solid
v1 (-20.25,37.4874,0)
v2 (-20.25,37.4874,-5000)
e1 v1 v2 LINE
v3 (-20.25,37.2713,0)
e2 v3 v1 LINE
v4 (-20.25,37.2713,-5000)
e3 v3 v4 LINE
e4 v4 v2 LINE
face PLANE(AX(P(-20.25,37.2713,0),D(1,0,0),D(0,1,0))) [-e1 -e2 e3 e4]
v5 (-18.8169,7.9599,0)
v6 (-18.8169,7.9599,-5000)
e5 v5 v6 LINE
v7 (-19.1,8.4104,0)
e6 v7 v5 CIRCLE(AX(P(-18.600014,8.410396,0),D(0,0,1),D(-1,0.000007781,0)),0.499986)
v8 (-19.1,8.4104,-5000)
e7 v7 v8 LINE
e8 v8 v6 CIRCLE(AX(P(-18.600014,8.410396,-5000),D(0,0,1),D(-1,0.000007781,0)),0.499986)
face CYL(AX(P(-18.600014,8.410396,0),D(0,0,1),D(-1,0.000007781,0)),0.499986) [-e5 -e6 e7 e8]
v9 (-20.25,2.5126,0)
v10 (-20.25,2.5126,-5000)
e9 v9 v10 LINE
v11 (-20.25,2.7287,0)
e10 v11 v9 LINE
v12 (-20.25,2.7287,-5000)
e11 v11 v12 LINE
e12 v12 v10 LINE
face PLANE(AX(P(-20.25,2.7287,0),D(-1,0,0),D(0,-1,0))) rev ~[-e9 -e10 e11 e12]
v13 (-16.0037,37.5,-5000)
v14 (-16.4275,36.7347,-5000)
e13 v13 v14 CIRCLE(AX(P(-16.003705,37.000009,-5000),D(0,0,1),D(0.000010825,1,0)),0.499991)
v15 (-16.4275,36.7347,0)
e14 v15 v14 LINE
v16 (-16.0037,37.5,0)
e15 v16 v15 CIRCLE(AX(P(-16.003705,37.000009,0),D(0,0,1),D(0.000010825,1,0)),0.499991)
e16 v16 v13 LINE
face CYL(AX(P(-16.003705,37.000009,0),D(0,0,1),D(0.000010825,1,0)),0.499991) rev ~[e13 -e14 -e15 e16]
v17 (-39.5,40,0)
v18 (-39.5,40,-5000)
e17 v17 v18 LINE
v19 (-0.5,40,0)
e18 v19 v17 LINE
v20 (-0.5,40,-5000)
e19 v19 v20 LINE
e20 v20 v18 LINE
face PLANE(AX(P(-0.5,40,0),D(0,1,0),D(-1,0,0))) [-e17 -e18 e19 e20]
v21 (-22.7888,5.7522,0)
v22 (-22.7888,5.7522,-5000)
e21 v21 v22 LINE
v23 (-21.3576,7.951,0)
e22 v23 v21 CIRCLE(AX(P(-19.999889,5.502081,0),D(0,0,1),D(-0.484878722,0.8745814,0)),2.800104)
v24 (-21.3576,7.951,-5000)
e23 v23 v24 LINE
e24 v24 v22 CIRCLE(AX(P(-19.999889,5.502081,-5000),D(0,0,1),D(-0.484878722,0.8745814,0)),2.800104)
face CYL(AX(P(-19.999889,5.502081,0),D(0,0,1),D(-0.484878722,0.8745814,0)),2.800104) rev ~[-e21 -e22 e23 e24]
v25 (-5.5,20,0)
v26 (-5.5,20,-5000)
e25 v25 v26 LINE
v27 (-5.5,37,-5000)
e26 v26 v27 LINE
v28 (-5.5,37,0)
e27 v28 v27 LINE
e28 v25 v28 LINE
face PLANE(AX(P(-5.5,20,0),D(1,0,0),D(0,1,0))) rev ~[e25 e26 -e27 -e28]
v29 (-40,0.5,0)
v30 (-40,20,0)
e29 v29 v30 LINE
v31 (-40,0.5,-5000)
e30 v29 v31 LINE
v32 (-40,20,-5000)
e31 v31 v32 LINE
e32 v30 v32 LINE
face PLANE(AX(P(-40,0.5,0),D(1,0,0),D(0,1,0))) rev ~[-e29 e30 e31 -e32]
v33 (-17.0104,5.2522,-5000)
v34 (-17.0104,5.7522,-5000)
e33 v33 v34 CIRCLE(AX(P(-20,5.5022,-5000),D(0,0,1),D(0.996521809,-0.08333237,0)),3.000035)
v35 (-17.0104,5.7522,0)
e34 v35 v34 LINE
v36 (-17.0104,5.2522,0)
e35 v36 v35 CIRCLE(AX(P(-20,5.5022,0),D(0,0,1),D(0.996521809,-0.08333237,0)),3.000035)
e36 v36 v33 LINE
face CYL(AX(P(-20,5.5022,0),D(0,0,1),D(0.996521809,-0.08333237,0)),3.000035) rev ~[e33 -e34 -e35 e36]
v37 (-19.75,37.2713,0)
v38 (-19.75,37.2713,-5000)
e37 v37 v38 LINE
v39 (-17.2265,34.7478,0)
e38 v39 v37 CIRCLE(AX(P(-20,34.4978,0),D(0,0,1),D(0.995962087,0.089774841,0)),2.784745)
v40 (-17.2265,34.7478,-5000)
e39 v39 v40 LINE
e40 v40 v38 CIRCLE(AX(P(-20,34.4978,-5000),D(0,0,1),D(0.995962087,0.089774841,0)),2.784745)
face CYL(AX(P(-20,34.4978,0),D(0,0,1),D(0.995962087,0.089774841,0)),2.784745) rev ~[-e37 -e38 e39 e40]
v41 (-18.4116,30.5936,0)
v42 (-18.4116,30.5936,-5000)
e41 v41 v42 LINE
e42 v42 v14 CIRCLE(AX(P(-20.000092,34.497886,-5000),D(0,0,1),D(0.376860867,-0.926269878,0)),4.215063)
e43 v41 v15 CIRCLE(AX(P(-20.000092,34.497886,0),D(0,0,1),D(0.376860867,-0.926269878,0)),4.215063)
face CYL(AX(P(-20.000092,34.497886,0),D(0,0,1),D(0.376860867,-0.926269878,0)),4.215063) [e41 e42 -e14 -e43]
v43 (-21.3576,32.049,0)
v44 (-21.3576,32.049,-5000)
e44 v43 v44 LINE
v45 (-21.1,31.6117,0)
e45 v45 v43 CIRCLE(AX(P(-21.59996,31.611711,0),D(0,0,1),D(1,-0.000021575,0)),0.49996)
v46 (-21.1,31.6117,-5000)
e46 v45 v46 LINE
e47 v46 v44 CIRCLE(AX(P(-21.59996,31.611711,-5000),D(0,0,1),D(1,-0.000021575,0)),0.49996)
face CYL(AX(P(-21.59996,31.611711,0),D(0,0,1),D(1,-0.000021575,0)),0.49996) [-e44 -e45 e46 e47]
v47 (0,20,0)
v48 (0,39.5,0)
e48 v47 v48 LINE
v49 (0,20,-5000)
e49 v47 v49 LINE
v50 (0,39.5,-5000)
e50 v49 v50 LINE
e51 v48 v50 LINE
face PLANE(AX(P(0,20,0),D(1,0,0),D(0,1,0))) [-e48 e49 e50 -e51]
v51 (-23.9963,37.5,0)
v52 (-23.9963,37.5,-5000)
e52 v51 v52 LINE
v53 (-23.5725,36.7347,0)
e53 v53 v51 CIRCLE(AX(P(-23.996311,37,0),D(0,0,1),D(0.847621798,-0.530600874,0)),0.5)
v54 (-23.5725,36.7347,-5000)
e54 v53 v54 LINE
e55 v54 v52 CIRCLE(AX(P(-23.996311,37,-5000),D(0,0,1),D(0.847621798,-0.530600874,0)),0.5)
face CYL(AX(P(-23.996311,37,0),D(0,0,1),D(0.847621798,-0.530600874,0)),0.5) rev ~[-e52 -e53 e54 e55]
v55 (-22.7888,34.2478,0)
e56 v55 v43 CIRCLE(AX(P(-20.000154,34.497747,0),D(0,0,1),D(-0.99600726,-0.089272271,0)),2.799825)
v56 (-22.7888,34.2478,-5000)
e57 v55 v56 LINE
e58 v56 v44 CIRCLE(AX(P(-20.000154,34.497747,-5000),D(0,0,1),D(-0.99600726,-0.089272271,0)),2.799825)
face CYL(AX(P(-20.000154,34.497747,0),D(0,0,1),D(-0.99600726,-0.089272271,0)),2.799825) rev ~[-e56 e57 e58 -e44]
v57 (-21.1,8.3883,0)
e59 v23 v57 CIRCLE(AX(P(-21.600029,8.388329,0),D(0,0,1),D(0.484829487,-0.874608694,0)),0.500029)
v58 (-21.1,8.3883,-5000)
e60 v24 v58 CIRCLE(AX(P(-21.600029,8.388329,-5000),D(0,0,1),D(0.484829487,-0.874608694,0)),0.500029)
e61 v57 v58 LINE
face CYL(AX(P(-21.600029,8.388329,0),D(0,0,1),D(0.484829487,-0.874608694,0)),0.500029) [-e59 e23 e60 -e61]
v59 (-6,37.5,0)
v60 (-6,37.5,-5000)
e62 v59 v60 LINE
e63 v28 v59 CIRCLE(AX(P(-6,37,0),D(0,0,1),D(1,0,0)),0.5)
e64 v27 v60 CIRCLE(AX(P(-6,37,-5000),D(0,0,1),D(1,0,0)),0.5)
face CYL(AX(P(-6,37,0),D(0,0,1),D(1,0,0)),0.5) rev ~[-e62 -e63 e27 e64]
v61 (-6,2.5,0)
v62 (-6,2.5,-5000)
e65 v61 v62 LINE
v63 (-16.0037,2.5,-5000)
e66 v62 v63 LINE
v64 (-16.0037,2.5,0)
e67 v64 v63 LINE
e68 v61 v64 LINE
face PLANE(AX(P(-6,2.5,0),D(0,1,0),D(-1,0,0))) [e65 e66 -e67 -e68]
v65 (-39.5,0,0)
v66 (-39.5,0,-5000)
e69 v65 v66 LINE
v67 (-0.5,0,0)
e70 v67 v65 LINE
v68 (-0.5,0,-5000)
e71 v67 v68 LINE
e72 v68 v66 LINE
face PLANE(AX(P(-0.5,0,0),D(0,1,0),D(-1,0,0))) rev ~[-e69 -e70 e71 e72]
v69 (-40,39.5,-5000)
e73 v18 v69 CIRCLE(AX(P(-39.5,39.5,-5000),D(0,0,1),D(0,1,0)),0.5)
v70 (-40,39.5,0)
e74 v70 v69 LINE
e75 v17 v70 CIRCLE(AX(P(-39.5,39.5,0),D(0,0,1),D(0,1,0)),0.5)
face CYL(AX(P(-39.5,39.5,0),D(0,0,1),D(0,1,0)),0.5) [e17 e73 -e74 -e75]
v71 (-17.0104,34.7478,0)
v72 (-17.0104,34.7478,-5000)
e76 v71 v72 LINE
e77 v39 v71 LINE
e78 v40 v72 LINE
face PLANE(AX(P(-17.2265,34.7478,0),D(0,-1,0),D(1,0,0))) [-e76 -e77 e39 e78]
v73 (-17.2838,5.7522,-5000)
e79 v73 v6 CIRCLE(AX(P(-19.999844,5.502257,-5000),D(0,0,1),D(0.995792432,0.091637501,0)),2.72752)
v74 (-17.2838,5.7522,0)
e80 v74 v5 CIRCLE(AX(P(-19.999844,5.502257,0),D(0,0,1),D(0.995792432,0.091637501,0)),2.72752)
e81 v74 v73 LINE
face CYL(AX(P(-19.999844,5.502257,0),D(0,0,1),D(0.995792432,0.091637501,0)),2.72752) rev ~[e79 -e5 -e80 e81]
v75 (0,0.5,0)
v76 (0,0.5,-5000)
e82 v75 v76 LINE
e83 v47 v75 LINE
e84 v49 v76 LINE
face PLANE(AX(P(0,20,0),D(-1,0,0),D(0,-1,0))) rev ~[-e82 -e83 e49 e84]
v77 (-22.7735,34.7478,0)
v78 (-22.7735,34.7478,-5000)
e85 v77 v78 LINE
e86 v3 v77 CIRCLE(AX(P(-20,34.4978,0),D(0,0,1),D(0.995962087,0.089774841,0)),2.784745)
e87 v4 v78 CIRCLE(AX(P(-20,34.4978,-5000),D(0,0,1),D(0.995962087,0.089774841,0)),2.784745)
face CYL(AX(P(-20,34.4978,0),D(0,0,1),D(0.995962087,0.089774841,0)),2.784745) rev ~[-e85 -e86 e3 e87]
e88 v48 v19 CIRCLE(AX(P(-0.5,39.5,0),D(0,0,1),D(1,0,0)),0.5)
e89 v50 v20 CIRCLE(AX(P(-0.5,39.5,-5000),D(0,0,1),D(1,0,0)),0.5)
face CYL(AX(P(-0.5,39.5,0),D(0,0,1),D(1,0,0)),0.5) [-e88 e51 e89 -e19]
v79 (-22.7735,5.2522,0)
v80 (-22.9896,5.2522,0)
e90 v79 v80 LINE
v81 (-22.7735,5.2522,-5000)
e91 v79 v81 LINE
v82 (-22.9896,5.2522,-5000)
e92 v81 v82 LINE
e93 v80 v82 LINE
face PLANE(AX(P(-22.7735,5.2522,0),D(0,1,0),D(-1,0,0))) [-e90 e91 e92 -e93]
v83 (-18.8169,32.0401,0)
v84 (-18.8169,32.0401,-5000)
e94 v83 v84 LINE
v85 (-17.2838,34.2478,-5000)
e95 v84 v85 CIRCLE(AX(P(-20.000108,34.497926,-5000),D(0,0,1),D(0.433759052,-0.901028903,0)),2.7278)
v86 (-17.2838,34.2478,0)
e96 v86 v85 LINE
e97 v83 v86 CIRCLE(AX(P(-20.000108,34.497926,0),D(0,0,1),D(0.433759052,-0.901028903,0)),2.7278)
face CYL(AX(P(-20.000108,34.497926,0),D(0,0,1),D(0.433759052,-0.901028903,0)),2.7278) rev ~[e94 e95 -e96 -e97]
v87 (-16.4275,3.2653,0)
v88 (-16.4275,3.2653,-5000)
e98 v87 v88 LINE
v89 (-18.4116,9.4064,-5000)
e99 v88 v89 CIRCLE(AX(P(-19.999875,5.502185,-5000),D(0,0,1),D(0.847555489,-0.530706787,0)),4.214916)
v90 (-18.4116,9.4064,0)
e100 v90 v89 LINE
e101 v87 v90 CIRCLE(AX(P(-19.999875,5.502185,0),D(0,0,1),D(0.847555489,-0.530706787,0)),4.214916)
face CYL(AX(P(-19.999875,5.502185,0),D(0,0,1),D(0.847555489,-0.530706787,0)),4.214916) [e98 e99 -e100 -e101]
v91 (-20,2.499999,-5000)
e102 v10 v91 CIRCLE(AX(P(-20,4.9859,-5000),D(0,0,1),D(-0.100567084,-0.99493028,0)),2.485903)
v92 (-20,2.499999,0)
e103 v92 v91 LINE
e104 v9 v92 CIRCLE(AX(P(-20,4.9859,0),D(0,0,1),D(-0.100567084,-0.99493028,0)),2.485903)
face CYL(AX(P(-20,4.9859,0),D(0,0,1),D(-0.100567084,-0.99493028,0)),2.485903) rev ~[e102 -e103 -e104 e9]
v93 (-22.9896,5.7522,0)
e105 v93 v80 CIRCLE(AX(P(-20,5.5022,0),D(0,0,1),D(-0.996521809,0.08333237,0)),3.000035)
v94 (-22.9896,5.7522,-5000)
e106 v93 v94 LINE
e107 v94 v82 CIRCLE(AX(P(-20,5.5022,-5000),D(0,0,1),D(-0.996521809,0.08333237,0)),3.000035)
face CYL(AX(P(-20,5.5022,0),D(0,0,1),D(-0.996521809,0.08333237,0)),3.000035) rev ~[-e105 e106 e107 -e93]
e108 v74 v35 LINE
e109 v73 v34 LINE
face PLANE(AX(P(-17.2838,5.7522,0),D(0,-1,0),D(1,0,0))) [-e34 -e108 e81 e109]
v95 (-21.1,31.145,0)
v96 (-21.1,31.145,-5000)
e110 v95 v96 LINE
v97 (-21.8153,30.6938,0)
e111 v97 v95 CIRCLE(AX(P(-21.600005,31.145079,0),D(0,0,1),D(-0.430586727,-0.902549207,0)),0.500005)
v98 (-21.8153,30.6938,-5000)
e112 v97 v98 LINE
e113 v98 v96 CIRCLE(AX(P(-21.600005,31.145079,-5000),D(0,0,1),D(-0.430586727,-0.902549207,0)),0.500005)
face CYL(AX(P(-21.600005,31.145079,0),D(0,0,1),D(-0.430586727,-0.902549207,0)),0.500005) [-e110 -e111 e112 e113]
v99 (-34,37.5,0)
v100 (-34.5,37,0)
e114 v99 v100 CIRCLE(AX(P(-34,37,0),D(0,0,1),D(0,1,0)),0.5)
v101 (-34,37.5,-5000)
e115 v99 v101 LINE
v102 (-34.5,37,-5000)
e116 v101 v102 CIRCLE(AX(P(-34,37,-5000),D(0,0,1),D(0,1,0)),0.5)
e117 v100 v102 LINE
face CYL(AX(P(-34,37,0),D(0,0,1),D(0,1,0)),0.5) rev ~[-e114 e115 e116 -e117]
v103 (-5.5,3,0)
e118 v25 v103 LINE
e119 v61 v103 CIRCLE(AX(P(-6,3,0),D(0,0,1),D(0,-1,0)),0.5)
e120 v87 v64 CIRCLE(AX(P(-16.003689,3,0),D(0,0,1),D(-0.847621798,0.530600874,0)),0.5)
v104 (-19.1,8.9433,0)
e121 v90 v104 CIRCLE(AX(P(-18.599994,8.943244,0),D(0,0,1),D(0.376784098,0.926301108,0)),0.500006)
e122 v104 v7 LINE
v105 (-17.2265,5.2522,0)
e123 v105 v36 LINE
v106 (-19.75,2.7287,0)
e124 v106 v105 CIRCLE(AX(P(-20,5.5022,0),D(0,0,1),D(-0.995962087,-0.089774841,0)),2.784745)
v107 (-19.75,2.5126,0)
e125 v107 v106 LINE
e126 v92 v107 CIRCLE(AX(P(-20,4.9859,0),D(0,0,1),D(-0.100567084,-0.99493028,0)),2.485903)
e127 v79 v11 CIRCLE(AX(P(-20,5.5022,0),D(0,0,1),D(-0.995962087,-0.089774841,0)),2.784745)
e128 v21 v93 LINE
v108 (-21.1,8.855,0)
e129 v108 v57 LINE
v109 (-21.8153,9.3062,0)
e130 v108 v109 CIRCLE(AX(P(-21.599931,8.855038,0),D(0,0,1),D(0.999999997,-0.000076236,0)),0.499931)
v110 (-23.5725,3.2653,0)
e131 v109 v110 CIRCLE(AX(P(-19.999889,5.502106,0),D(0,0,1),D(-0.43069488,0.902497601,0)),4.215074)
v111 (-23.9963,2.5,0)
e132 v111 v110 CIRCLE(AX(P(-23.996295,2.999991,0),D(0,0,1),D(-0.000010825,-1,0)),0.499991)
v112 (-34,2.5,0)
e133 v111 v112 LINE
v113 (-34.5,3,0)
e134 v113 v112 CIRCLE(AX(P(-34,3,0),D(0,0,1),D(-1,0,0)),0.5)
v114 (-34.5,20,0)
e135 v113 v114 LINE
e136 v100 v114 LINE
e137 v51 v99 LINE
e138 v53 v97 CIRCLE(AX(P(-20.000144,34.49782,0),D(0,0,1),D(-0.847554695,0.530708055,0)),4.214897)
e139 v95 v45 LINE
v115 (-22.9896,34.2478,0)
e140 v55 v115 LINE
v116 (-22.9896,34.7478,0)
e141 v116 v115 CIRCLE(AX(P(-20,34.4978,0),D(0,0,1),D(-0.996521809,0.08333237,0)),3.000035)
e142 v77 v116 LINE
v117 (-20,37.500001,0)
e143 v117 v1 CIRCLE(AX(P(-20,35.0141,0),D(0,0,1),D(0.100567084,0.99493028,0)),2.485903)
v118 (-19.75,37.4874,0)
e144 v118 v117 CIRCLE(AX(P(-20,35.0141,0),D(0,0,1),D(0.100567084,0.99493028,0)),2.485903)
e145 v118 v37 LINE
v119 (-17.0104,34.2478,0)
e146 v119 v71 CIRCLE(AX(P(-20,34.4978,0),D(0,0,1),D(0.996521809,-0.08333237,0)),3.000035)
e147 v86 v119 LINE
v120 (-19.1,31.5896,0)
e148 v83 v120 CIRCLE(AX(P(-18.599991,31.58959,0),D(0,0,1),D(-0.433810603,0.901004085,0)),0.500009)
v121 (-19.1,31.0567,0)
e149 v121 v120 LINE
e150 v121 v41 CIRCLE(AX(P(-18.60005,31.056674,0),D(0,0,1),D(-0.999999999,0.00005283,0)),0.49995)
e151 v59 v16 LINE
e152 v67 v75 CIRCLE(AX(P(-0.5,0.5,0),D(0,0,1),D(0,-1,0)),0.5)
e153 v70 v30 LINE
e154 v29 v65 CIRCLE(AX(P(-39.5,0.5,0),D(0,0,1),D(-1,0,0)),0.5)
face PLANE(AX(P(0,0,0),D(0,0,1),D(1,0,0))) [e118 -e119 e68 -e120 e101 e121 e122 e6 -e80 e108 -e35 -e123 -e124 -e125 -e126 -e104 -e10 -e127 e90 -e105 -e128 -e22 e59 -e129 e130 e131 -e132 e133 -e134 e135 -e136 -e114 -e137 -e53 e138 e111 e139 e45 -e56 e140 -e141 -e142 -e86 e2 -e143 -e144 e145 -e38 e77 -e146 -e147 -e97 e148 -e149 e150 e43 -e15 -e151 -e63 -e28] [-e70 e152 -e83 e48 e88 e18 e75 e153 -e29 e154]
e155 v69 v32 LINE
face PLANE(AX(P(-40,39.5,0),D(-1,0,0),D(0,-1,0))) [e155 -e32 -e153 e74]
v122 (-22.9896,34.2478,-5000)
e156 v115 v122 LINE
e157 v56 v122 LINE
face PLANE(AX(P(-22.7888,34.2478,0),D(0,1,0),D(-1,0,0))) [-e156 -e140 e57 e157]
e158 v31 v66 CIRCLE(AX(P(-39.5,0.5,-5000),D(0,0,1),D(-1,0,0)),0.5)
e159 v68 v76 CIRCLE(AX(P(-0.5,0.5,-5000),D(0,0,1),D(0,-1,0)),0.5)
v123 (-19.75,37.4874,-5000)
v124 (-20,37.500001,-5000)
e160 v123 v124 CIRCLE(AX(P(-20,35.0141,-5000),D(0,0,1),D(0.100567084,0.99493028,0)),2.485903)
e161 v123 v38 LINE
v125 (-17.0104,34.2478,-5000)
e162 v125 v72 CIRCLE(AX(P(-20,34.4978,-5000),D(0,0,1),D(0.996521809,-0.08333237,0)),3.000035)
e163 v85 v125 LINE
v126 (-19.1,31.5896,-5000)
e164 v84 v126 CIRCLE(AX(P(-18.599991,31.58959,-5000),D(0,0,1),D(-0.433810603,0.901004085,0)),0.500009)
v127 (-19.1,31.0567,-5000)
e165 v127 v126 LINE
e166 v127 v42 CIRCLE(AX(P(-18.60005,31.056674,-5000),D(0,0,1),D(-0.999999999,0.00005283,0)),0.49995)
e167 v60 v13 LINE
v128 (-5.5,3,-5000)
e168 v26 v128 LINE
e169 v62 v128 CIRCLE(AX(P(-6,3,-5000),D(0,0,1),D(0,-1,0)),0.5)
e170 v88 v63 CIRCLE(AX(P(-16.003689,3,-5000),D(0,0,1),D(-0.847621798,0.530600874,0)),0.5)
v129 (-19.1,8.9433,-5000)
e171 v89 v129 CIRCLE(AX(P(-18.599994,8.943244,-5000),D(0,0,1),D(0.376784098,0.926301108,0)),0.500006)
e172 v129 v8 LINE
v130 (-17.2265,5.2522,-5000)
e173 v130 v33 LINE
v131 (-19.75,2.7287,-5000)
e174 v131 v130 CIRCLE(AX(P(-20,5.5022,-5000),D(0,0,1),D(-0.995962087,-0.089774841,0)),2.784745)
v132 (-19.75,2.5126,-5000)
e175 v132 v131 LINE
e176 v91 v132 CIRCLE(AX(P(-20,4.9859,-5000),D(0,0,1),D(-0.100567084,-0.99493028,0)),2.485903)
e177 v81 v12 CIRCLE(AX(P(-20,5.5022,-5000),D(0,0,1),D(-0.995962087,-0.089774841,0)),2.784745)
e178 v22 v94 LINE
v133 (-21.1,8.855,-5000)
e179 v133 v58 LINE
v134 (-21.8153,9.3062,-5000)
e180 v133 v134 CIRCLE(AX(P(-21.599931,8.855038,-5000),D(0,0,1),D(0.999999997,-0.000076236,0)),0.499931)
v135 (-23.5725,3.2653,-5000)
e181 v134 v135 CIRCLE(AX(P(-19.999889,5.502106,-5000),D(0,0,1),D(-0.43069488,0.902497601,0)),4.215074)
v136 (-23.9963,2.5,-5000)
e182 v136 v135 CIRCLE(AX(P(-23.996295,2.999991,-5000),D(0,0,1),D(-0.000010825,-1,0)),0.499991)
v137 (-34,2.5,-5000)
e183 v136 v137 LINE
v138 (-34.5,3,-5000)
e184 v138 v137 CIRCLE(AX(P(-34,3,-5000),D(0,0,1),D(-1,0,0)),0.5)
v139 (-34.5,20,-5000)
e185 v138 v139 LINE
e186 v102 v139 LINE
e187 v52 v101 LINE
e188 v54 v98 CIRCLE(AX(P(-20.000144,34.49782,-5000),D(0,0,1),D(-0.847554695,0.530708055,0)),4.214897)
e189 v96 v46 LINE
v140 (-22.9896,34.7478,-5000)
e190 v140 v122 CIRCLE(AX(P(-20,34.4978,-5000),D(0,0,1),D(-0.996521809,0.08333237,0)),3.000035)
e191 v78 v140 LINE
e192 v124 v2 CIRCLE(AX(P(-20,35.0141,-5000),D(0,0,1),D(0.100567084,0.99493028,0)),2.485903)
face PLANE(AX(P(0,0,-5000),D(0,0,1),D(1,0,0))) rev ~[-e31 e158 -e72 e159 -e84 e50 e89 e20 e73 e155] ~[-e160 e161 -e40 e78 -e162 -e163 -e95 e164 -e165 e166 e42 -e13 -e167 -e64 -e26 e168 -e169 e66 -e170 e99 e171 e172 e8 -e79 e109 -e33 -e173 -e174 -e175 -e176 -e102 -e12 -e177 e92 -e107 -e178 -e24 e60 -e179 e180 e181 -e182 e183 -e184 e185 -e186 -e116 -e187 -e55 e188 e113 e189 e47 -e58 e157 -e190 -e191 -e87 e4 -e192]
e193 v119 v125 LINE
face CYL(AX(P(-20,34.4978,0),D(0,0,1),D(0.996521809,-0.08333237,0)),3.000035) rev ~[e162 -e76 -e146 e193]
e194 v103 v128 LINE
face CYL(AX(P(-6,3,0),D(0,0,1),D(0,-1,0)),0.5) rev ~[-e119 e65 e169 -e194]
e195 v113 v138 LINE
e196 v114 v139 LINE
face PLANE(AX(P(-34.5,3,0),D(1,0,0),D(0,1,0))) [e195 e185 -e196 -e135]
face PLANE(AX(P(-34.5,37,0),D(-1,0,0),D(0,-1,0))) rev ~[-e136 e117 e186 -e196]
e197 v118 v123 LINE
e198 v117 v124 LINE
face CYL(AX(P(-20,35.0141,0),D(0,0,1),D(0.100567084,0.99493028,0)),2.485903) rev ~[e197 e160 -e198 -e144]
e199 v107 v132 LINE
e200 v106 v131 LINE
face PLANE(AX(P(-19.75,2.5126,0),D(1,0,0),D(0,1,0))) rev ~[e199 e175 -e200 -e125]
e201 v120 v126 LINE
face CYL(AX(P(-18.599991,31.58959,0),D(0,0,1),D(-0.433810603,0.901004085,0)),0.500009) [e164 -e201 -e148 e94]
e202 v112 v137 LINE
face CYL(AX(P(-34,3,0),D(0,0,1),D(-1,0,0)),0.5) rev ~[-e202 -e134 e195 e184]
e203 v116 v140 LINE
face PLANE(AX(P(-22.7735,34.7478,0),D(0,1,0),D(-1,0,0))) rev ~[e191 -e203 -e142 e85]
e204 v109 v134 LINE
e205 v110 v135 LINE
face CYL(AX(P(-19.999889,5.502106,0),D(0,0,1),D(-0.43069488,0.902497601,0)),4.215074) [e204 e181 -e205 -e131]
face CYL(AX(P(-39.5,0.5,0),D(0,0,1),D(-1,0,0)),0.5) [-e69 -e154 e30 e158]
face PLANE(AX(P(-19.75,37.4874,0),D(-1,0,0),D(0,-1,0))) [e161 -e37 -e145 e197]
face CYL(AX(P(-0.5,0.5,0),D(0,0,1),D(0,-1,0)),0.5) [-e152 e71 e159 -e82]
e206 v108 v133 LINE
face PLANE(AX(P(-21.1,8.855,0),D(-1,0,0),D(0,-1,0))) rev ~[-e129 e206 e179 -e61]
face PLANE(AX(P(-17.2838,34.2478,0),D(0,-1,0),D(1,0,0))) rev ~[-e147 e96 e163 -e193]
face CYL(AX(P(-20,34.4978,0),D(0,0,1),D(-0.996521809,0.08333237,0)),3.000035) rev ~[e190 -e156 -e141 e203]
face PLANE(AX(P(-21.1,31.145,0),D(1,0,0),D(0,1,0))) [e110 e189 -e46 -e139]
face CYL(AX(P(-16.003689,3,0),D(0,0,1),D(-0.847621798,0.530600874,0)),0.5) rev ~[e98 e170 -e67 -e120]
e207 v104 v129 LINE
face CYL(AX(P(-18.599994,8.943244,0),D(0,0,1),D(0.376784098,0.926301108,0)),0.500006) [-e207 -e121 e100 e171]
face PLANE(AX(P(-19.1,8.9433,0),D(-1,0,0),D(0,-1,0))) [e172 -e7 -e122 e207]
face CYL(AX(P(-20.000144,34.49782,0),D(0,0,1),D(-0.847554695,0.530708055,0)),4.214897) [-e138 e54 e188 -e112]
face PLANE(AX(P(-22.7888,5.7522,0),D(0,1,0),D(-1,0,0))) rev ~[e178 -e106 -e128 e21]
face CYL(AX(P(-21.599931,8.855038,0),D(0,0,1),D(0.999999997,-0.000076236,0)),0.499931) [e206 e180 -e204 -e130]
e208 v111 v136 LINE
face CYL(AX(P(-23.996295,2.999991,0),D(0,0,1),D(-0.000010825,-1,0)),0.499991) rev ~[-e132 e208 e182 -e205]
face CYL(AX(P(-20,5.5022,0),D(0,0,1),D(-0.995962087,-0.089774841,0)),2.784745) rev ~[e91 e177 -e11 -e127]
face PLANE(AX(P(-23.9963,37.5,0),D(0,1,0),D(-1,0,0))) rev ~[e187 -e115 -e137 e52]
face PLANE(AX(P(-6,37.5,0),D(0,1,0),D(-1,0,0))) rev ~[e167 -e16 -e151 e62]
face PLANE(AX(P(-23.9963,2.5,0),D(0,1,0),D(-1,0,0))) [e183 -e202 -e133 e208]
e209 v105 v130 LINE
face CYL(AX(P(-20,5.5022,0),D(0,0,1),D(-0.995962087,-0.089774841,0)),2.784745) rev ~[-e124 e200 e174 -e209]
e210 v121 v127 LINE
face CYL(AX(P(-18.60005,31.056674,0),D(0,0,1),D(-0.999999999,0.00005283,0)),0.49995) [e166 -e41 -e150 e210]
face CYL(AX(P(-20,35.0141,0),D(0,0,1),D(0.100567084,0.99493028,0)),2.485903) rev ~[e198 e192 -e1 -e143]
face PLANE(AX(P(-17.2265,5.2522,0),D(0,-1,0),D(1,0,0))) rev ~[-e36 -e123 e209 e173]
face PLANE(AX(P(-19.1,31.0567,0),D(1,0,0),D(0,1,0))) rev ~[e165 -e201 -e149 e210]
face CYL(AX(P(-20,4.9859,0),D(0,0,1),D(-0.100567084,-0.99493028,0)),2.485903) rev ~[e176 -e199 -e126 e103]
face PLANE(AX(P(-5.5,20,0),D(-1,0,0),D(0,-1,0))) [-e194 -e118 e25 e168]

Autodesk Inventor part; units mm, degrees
ref_plane "YZ Plane" through (0, 0, 0) normal (1, 0, 0) x (0, 1, 0)
ref_plane "XZ Plane" through (0, 0, 0) normal (0, 1, 0) x (-1, 0, 0)
ref_plane "XY Plane" through (0, 0, 0) normal (0, 0, 1) x (1, 0, 0)
sketch "Sketch1" plane through (0, 0, 0) normal (0, 0, 1) x (1, 0, 0)
  line L0 (0, 20) -> (0, 0.5)
  line L1 (-0.5, 0) -> (-39.5, 0)
  line L2 (-40, 0.5) -> (-40, 20)
  line L3 (-5.5, 20) -> (-5.5, 3)
  line L4 (-34.5, 3) -> (-34.5, 20)
  line L5 (3.5733, 20) -> (-48.8643, 20) construction
  line L6 (-19.1, 8.9433) -> (-19.1, 8.4104)
  line L7 (-21.1, 8.855) -> (-21.1, 8.3883)
  circle A0 centre (-20, 5.5022) radius 3 construction
  line L8 (-23.3299, 5.7522) -> (-16.6139, 5.7522) construction
  line L9 (-16.6139, 5.7522) -> (-16.6139, 5.2522) construction
  line L10 (-16.6139, 5.2522) -> (-23.3299, 5.2522) construction
  line L11 (-23.3299, 5.2522) -> (-23.3299, 5.7522) construction
  line L12 (-22.7888, 5.7522) -> (-22.9896, 5.7522)
  line L13 (-22.7735, 5.2522) -> (-22.9896, 5.2522)
  arc A1 (-22.9896, 5.7522) -> (-22.9896, 5.2522) centre (-20, 5.5022) ccw
  line L14 (-17.2838, 5.7522) -> (-17.0104, 5.7522)
  line L15 (-17.2265, 5.2522) -> (-17.0104, 5.2522)
  arc A2 (-17.0104, 5.2522) -> (-17.0104, 5.7522) centre (-20, 5.5022) ccw
  arc A3 (-17.2838, 5.7522) -> (-18.8169, 7.9599) centre (-20, 5.5022) ccw
  arc A4 (-21.3576, 7.951) -> (-22.7888, 5.7522) centre (-20, 5.5022) ccw
  arc A5 (-22.7735, 5.2522) -> (-17.2265, 5.2522) centre (-20, 5.5022) ccw
  line L16 (-20.25, 6.2494) -> (-19.75, 6.2494) construction
  line L17 (-19.75, 6.2494) -> (-19.75, 2.1596) construction
  line L18 (-19.75, 2.1596) -> (-20.25, 2.1596) construction
  line L19 (-20.25, 2.1596) -> (-20.25, 6.2494) construction
  line L20 (-20.25, 2.7287) -> (-20.25, 2.5126)
  line L21 (-19.75, 2.5126) -> (-19.75, 2.7287)
  arc A6 (-20.25, 2.5126) -> (-19.75, 2.5126) centre (-20, 4.9859) ccw
  arc A7 (-21.8153, 9.3062) -> (-23.5725, 3.2653) centre (-20, 5.5022) ccw
  arc A8 (-16.4275, 3.2653) -> (-18.4116, 9.4064) centre (-20, 5.5022) ccw
  line L22 (-6, 2.5) -> (-16.0037, 2.5)
  line L23 (-19.75, 2.5) -> (-20.25, 2.5)
  line L24 (-23.9963, 2.5) -> (-34, 2.5)
  circle A9 centre (-20, 5.5022) radius 4.215 construction
  arc A10 (-34.5, 3) -> (-34, 2.5) centre (-34, 3) ccw
  arc A11 (-40, 0.5) -> (-39.5, 0) centre (-39.5, 0.5) ccw
  arc A12 (-23.9963, 2.5) -> (-23.5725, 3.2653) centre (-23.9963, 3) ccw
  arc A13 (-21.1, 8.855) -> (-21.8153, 9.3062) centre (-21.6, 8.855) ccw
  arc A14 (-21.3576, 7.951) -> (-21.1, 8.3883) centre (-21.6, 8.3883) ccw
  arc A15 (-19.1, 8.4104) -> (-18.8169, 7.9599) centre (-18.6, 8.4104) ccw
  arc A16 (-18.4116, 9.4064) -> (-19.1, 8.9433) centre (-18.6, 8.9433) ccw
  arc A17 (-16.4275, 3.2653) -> (-16.0037, 2.5) centre (-16.0037, 3) ccw
  arc A18 (-6, 2.5) -> (-5.5, 3) centre (-6, 3) ccw
  arc A19 (-0.5, 0) -> (0, 0.5) centre (-0.5, 0.5) ccw
  line L25 (0, 20) -> (0, 39.5)
  line L26 (-0.5, 40) -> (-39.5, 40)
  line L27 (-40, 39.5) -> (-40, 20)
  line L28 (-5.5, 20) -> (-5.5, 37)
  line L29 (-34.5, 37) -> (-34.5, 20)
  line L30 (-19.1, 31.0567) -> (-19.1, 31.5896)
  line L31 (-21.1, 31.145) -> (-21.1, 31.6117)
  circle A20 centre (-20, 34.4978) radius 3 construction
  line L32 (-23.3299, 34.2478) -> (-16.6139, 34.2478) construction
  line L33 (-16.6139, 34.2478) -> (-16.6139, 34.7478) construction
  line L34 (-16.6139, 34.7478) -> (-23.3299, 34.7478) construction
  line L35 (-23.3299, 34.7478) -> (-23.3299, 34.2478) construction
  line L36 (-22.7888, 34.2478) -> (-22.9896, 34.2478)
  line L37 (-22.7735, 34.7478) -> (-22.9896, 34.7478)
  arc A21 (-22.9896, 34.7478) -> (-22.9896, 34.2478) centre (-20, 34.4978) ccw
  line L38 (-17.2838, 34.2478) -> (-17.0104, 34.2478)
  line L39 (-17.2265, 34.7478) -> (-17.0104, 34.7478)
  arc A22 (-17.0104, 34.2478) -> (-17.0104, 34.7478) centre (-20, 34.4978) ccw
  arc A23 (-18.8169, 32.0401) -> (-17.2838, 34.2478) centre (-20, 34.4978) ccw
  arc A24 (-22.7888, 34.2478) -> (-21.3576, 32.049) centre (-20, 34.4978) ccw
  arc A25 (-17.2265, 34.7478) -> (-22.7735, 34.7478) centre (-20, 34.4978) ccw
  line L40 (-20.25, 33.7506) -> (-19.75, 33.7506) construction
  line L41 (-19.75, 33.7506) -> (-19.75, 37.8404) construction
  line L42 (-19.75, 37.8404) -> (-20.25, 37.8404) construction
  line L43 (-20.25, 37.8404) -> (-20.25, 33.7506) construction
  line L44 (-20.25, 37.2713) -> (-20.25, 37.4874)
  line L45 (-19.75, 37.4874) -> (-19.75, 37.2713)
  arc A26 (-19.75, 37.4874) -> (-20.25, 37.4874) centre (-20, 35.0141) ccw
  arc A27 (-23.5725, 36.7347) -> (-21.8153, 30.6938) centre (-20, 34.4978) ccw
  arc A28 (-18.4116, 30.5936) -> (-16.4275, 36.7347) centre (-20, 34.4978) ccw
  line L46 (-6, 37.5) -> (-16.0037, 37.5)
  line L47 (-19.75, 37.5) -> (-20.25, 37.5)
  line L48 (-23.9963, 37.5) -> (-34, 37.5)
  circle A29 centre (-20, 34.4978) radius 4.215 construction
  arc A30 (-34, 37.5) -> (-34.5, 37) centre (-34, 37) ccw
  arc A31 (-39.5, 40) -> (-40, 39.5) centre (-39.5, 39.5) ccw
  arc A32 (-23.5725, 36.7347) -> (-23.9963, 37.5) centre (-23.9963, 37) ccw
  arc A33 (-21.8153, 30.6938) -> (-21.1, 31.145) centre (-21.6, 31.145) ccw
  arc A34 (-21.1, 31.6117) -> (-21.3576, 32.049) centre (-21.6, 31.6117) ccw
  arc A35 (-18.8169, 32.0401) -> (-19.1, 31.5896) centre (-18.6, 31.5896) ccw
  arc A36 (-19.1, 31.0567) -> (-18.4116, 30.5936) centre (-18.6, 31.0567) ccw
  arc A37 (-16.0037, 37.5) -> (-16.4275, 36.7347) centre (-16.0037, 37) ccw
  arc A38 (-5.5, 37) -> (-6, 37.5) centre (-6, 37) ccw
  arc A39 (0, 39.5) -> (-0.5, 40) centre (-0.5, 39.5) ccw
  point P0 (0, 0)
  point P1 (0, 0)
  point P2 (-40, 0)
  point P3 (-19.1, 9.62)
  point P4 (-19.1, 8.077)
  point P5 (-21.1, 9.5711)
  point P6 (-21.1, 8.077)
  point P7 (-22.9586, 2.5)
  point P8 (-17.0414, 2.5)
  point P9 (-17.1471, 5.7522)
  point P10 (-17.1185, 5.2522)
  point P11 (0, 40)
  point P12 (-40, 40)
  point P13 (-19.1, 30.38)
  point P14 (-19.1, 31.923)
  point P15 (-21.1, 30.4289)
  point P16 (-21.1, 31.923)
  point P17 (-22.9586, 37.5)
  point P18 (-17.0414, 37.5)
  point P19 (-17.1471, 34.2478)
  point P20 (-17.1185, 34.7478)
  dimension "d2" = 5.5
  dimension "d3" = 5.5
  dimension "d5" = 40
  dimension "d6" = 20
  dimension "d12" = 6
  dimension "d14" = 0.25
  dimension "d16" = 0.25
  dimension "d18" = 20
  dimension "d19" = 8.43
  dimension "d20" = 0.5
  dimension "d21" = 2
  dimension "d23" = 0.5
  dimension "d24" = 2.5
extrude "Extrusion1" add sketch "Sketch1" against normal blind 5000
properties part number "HD - 405 PERFIL ALUMINIO - COLUMNA"
